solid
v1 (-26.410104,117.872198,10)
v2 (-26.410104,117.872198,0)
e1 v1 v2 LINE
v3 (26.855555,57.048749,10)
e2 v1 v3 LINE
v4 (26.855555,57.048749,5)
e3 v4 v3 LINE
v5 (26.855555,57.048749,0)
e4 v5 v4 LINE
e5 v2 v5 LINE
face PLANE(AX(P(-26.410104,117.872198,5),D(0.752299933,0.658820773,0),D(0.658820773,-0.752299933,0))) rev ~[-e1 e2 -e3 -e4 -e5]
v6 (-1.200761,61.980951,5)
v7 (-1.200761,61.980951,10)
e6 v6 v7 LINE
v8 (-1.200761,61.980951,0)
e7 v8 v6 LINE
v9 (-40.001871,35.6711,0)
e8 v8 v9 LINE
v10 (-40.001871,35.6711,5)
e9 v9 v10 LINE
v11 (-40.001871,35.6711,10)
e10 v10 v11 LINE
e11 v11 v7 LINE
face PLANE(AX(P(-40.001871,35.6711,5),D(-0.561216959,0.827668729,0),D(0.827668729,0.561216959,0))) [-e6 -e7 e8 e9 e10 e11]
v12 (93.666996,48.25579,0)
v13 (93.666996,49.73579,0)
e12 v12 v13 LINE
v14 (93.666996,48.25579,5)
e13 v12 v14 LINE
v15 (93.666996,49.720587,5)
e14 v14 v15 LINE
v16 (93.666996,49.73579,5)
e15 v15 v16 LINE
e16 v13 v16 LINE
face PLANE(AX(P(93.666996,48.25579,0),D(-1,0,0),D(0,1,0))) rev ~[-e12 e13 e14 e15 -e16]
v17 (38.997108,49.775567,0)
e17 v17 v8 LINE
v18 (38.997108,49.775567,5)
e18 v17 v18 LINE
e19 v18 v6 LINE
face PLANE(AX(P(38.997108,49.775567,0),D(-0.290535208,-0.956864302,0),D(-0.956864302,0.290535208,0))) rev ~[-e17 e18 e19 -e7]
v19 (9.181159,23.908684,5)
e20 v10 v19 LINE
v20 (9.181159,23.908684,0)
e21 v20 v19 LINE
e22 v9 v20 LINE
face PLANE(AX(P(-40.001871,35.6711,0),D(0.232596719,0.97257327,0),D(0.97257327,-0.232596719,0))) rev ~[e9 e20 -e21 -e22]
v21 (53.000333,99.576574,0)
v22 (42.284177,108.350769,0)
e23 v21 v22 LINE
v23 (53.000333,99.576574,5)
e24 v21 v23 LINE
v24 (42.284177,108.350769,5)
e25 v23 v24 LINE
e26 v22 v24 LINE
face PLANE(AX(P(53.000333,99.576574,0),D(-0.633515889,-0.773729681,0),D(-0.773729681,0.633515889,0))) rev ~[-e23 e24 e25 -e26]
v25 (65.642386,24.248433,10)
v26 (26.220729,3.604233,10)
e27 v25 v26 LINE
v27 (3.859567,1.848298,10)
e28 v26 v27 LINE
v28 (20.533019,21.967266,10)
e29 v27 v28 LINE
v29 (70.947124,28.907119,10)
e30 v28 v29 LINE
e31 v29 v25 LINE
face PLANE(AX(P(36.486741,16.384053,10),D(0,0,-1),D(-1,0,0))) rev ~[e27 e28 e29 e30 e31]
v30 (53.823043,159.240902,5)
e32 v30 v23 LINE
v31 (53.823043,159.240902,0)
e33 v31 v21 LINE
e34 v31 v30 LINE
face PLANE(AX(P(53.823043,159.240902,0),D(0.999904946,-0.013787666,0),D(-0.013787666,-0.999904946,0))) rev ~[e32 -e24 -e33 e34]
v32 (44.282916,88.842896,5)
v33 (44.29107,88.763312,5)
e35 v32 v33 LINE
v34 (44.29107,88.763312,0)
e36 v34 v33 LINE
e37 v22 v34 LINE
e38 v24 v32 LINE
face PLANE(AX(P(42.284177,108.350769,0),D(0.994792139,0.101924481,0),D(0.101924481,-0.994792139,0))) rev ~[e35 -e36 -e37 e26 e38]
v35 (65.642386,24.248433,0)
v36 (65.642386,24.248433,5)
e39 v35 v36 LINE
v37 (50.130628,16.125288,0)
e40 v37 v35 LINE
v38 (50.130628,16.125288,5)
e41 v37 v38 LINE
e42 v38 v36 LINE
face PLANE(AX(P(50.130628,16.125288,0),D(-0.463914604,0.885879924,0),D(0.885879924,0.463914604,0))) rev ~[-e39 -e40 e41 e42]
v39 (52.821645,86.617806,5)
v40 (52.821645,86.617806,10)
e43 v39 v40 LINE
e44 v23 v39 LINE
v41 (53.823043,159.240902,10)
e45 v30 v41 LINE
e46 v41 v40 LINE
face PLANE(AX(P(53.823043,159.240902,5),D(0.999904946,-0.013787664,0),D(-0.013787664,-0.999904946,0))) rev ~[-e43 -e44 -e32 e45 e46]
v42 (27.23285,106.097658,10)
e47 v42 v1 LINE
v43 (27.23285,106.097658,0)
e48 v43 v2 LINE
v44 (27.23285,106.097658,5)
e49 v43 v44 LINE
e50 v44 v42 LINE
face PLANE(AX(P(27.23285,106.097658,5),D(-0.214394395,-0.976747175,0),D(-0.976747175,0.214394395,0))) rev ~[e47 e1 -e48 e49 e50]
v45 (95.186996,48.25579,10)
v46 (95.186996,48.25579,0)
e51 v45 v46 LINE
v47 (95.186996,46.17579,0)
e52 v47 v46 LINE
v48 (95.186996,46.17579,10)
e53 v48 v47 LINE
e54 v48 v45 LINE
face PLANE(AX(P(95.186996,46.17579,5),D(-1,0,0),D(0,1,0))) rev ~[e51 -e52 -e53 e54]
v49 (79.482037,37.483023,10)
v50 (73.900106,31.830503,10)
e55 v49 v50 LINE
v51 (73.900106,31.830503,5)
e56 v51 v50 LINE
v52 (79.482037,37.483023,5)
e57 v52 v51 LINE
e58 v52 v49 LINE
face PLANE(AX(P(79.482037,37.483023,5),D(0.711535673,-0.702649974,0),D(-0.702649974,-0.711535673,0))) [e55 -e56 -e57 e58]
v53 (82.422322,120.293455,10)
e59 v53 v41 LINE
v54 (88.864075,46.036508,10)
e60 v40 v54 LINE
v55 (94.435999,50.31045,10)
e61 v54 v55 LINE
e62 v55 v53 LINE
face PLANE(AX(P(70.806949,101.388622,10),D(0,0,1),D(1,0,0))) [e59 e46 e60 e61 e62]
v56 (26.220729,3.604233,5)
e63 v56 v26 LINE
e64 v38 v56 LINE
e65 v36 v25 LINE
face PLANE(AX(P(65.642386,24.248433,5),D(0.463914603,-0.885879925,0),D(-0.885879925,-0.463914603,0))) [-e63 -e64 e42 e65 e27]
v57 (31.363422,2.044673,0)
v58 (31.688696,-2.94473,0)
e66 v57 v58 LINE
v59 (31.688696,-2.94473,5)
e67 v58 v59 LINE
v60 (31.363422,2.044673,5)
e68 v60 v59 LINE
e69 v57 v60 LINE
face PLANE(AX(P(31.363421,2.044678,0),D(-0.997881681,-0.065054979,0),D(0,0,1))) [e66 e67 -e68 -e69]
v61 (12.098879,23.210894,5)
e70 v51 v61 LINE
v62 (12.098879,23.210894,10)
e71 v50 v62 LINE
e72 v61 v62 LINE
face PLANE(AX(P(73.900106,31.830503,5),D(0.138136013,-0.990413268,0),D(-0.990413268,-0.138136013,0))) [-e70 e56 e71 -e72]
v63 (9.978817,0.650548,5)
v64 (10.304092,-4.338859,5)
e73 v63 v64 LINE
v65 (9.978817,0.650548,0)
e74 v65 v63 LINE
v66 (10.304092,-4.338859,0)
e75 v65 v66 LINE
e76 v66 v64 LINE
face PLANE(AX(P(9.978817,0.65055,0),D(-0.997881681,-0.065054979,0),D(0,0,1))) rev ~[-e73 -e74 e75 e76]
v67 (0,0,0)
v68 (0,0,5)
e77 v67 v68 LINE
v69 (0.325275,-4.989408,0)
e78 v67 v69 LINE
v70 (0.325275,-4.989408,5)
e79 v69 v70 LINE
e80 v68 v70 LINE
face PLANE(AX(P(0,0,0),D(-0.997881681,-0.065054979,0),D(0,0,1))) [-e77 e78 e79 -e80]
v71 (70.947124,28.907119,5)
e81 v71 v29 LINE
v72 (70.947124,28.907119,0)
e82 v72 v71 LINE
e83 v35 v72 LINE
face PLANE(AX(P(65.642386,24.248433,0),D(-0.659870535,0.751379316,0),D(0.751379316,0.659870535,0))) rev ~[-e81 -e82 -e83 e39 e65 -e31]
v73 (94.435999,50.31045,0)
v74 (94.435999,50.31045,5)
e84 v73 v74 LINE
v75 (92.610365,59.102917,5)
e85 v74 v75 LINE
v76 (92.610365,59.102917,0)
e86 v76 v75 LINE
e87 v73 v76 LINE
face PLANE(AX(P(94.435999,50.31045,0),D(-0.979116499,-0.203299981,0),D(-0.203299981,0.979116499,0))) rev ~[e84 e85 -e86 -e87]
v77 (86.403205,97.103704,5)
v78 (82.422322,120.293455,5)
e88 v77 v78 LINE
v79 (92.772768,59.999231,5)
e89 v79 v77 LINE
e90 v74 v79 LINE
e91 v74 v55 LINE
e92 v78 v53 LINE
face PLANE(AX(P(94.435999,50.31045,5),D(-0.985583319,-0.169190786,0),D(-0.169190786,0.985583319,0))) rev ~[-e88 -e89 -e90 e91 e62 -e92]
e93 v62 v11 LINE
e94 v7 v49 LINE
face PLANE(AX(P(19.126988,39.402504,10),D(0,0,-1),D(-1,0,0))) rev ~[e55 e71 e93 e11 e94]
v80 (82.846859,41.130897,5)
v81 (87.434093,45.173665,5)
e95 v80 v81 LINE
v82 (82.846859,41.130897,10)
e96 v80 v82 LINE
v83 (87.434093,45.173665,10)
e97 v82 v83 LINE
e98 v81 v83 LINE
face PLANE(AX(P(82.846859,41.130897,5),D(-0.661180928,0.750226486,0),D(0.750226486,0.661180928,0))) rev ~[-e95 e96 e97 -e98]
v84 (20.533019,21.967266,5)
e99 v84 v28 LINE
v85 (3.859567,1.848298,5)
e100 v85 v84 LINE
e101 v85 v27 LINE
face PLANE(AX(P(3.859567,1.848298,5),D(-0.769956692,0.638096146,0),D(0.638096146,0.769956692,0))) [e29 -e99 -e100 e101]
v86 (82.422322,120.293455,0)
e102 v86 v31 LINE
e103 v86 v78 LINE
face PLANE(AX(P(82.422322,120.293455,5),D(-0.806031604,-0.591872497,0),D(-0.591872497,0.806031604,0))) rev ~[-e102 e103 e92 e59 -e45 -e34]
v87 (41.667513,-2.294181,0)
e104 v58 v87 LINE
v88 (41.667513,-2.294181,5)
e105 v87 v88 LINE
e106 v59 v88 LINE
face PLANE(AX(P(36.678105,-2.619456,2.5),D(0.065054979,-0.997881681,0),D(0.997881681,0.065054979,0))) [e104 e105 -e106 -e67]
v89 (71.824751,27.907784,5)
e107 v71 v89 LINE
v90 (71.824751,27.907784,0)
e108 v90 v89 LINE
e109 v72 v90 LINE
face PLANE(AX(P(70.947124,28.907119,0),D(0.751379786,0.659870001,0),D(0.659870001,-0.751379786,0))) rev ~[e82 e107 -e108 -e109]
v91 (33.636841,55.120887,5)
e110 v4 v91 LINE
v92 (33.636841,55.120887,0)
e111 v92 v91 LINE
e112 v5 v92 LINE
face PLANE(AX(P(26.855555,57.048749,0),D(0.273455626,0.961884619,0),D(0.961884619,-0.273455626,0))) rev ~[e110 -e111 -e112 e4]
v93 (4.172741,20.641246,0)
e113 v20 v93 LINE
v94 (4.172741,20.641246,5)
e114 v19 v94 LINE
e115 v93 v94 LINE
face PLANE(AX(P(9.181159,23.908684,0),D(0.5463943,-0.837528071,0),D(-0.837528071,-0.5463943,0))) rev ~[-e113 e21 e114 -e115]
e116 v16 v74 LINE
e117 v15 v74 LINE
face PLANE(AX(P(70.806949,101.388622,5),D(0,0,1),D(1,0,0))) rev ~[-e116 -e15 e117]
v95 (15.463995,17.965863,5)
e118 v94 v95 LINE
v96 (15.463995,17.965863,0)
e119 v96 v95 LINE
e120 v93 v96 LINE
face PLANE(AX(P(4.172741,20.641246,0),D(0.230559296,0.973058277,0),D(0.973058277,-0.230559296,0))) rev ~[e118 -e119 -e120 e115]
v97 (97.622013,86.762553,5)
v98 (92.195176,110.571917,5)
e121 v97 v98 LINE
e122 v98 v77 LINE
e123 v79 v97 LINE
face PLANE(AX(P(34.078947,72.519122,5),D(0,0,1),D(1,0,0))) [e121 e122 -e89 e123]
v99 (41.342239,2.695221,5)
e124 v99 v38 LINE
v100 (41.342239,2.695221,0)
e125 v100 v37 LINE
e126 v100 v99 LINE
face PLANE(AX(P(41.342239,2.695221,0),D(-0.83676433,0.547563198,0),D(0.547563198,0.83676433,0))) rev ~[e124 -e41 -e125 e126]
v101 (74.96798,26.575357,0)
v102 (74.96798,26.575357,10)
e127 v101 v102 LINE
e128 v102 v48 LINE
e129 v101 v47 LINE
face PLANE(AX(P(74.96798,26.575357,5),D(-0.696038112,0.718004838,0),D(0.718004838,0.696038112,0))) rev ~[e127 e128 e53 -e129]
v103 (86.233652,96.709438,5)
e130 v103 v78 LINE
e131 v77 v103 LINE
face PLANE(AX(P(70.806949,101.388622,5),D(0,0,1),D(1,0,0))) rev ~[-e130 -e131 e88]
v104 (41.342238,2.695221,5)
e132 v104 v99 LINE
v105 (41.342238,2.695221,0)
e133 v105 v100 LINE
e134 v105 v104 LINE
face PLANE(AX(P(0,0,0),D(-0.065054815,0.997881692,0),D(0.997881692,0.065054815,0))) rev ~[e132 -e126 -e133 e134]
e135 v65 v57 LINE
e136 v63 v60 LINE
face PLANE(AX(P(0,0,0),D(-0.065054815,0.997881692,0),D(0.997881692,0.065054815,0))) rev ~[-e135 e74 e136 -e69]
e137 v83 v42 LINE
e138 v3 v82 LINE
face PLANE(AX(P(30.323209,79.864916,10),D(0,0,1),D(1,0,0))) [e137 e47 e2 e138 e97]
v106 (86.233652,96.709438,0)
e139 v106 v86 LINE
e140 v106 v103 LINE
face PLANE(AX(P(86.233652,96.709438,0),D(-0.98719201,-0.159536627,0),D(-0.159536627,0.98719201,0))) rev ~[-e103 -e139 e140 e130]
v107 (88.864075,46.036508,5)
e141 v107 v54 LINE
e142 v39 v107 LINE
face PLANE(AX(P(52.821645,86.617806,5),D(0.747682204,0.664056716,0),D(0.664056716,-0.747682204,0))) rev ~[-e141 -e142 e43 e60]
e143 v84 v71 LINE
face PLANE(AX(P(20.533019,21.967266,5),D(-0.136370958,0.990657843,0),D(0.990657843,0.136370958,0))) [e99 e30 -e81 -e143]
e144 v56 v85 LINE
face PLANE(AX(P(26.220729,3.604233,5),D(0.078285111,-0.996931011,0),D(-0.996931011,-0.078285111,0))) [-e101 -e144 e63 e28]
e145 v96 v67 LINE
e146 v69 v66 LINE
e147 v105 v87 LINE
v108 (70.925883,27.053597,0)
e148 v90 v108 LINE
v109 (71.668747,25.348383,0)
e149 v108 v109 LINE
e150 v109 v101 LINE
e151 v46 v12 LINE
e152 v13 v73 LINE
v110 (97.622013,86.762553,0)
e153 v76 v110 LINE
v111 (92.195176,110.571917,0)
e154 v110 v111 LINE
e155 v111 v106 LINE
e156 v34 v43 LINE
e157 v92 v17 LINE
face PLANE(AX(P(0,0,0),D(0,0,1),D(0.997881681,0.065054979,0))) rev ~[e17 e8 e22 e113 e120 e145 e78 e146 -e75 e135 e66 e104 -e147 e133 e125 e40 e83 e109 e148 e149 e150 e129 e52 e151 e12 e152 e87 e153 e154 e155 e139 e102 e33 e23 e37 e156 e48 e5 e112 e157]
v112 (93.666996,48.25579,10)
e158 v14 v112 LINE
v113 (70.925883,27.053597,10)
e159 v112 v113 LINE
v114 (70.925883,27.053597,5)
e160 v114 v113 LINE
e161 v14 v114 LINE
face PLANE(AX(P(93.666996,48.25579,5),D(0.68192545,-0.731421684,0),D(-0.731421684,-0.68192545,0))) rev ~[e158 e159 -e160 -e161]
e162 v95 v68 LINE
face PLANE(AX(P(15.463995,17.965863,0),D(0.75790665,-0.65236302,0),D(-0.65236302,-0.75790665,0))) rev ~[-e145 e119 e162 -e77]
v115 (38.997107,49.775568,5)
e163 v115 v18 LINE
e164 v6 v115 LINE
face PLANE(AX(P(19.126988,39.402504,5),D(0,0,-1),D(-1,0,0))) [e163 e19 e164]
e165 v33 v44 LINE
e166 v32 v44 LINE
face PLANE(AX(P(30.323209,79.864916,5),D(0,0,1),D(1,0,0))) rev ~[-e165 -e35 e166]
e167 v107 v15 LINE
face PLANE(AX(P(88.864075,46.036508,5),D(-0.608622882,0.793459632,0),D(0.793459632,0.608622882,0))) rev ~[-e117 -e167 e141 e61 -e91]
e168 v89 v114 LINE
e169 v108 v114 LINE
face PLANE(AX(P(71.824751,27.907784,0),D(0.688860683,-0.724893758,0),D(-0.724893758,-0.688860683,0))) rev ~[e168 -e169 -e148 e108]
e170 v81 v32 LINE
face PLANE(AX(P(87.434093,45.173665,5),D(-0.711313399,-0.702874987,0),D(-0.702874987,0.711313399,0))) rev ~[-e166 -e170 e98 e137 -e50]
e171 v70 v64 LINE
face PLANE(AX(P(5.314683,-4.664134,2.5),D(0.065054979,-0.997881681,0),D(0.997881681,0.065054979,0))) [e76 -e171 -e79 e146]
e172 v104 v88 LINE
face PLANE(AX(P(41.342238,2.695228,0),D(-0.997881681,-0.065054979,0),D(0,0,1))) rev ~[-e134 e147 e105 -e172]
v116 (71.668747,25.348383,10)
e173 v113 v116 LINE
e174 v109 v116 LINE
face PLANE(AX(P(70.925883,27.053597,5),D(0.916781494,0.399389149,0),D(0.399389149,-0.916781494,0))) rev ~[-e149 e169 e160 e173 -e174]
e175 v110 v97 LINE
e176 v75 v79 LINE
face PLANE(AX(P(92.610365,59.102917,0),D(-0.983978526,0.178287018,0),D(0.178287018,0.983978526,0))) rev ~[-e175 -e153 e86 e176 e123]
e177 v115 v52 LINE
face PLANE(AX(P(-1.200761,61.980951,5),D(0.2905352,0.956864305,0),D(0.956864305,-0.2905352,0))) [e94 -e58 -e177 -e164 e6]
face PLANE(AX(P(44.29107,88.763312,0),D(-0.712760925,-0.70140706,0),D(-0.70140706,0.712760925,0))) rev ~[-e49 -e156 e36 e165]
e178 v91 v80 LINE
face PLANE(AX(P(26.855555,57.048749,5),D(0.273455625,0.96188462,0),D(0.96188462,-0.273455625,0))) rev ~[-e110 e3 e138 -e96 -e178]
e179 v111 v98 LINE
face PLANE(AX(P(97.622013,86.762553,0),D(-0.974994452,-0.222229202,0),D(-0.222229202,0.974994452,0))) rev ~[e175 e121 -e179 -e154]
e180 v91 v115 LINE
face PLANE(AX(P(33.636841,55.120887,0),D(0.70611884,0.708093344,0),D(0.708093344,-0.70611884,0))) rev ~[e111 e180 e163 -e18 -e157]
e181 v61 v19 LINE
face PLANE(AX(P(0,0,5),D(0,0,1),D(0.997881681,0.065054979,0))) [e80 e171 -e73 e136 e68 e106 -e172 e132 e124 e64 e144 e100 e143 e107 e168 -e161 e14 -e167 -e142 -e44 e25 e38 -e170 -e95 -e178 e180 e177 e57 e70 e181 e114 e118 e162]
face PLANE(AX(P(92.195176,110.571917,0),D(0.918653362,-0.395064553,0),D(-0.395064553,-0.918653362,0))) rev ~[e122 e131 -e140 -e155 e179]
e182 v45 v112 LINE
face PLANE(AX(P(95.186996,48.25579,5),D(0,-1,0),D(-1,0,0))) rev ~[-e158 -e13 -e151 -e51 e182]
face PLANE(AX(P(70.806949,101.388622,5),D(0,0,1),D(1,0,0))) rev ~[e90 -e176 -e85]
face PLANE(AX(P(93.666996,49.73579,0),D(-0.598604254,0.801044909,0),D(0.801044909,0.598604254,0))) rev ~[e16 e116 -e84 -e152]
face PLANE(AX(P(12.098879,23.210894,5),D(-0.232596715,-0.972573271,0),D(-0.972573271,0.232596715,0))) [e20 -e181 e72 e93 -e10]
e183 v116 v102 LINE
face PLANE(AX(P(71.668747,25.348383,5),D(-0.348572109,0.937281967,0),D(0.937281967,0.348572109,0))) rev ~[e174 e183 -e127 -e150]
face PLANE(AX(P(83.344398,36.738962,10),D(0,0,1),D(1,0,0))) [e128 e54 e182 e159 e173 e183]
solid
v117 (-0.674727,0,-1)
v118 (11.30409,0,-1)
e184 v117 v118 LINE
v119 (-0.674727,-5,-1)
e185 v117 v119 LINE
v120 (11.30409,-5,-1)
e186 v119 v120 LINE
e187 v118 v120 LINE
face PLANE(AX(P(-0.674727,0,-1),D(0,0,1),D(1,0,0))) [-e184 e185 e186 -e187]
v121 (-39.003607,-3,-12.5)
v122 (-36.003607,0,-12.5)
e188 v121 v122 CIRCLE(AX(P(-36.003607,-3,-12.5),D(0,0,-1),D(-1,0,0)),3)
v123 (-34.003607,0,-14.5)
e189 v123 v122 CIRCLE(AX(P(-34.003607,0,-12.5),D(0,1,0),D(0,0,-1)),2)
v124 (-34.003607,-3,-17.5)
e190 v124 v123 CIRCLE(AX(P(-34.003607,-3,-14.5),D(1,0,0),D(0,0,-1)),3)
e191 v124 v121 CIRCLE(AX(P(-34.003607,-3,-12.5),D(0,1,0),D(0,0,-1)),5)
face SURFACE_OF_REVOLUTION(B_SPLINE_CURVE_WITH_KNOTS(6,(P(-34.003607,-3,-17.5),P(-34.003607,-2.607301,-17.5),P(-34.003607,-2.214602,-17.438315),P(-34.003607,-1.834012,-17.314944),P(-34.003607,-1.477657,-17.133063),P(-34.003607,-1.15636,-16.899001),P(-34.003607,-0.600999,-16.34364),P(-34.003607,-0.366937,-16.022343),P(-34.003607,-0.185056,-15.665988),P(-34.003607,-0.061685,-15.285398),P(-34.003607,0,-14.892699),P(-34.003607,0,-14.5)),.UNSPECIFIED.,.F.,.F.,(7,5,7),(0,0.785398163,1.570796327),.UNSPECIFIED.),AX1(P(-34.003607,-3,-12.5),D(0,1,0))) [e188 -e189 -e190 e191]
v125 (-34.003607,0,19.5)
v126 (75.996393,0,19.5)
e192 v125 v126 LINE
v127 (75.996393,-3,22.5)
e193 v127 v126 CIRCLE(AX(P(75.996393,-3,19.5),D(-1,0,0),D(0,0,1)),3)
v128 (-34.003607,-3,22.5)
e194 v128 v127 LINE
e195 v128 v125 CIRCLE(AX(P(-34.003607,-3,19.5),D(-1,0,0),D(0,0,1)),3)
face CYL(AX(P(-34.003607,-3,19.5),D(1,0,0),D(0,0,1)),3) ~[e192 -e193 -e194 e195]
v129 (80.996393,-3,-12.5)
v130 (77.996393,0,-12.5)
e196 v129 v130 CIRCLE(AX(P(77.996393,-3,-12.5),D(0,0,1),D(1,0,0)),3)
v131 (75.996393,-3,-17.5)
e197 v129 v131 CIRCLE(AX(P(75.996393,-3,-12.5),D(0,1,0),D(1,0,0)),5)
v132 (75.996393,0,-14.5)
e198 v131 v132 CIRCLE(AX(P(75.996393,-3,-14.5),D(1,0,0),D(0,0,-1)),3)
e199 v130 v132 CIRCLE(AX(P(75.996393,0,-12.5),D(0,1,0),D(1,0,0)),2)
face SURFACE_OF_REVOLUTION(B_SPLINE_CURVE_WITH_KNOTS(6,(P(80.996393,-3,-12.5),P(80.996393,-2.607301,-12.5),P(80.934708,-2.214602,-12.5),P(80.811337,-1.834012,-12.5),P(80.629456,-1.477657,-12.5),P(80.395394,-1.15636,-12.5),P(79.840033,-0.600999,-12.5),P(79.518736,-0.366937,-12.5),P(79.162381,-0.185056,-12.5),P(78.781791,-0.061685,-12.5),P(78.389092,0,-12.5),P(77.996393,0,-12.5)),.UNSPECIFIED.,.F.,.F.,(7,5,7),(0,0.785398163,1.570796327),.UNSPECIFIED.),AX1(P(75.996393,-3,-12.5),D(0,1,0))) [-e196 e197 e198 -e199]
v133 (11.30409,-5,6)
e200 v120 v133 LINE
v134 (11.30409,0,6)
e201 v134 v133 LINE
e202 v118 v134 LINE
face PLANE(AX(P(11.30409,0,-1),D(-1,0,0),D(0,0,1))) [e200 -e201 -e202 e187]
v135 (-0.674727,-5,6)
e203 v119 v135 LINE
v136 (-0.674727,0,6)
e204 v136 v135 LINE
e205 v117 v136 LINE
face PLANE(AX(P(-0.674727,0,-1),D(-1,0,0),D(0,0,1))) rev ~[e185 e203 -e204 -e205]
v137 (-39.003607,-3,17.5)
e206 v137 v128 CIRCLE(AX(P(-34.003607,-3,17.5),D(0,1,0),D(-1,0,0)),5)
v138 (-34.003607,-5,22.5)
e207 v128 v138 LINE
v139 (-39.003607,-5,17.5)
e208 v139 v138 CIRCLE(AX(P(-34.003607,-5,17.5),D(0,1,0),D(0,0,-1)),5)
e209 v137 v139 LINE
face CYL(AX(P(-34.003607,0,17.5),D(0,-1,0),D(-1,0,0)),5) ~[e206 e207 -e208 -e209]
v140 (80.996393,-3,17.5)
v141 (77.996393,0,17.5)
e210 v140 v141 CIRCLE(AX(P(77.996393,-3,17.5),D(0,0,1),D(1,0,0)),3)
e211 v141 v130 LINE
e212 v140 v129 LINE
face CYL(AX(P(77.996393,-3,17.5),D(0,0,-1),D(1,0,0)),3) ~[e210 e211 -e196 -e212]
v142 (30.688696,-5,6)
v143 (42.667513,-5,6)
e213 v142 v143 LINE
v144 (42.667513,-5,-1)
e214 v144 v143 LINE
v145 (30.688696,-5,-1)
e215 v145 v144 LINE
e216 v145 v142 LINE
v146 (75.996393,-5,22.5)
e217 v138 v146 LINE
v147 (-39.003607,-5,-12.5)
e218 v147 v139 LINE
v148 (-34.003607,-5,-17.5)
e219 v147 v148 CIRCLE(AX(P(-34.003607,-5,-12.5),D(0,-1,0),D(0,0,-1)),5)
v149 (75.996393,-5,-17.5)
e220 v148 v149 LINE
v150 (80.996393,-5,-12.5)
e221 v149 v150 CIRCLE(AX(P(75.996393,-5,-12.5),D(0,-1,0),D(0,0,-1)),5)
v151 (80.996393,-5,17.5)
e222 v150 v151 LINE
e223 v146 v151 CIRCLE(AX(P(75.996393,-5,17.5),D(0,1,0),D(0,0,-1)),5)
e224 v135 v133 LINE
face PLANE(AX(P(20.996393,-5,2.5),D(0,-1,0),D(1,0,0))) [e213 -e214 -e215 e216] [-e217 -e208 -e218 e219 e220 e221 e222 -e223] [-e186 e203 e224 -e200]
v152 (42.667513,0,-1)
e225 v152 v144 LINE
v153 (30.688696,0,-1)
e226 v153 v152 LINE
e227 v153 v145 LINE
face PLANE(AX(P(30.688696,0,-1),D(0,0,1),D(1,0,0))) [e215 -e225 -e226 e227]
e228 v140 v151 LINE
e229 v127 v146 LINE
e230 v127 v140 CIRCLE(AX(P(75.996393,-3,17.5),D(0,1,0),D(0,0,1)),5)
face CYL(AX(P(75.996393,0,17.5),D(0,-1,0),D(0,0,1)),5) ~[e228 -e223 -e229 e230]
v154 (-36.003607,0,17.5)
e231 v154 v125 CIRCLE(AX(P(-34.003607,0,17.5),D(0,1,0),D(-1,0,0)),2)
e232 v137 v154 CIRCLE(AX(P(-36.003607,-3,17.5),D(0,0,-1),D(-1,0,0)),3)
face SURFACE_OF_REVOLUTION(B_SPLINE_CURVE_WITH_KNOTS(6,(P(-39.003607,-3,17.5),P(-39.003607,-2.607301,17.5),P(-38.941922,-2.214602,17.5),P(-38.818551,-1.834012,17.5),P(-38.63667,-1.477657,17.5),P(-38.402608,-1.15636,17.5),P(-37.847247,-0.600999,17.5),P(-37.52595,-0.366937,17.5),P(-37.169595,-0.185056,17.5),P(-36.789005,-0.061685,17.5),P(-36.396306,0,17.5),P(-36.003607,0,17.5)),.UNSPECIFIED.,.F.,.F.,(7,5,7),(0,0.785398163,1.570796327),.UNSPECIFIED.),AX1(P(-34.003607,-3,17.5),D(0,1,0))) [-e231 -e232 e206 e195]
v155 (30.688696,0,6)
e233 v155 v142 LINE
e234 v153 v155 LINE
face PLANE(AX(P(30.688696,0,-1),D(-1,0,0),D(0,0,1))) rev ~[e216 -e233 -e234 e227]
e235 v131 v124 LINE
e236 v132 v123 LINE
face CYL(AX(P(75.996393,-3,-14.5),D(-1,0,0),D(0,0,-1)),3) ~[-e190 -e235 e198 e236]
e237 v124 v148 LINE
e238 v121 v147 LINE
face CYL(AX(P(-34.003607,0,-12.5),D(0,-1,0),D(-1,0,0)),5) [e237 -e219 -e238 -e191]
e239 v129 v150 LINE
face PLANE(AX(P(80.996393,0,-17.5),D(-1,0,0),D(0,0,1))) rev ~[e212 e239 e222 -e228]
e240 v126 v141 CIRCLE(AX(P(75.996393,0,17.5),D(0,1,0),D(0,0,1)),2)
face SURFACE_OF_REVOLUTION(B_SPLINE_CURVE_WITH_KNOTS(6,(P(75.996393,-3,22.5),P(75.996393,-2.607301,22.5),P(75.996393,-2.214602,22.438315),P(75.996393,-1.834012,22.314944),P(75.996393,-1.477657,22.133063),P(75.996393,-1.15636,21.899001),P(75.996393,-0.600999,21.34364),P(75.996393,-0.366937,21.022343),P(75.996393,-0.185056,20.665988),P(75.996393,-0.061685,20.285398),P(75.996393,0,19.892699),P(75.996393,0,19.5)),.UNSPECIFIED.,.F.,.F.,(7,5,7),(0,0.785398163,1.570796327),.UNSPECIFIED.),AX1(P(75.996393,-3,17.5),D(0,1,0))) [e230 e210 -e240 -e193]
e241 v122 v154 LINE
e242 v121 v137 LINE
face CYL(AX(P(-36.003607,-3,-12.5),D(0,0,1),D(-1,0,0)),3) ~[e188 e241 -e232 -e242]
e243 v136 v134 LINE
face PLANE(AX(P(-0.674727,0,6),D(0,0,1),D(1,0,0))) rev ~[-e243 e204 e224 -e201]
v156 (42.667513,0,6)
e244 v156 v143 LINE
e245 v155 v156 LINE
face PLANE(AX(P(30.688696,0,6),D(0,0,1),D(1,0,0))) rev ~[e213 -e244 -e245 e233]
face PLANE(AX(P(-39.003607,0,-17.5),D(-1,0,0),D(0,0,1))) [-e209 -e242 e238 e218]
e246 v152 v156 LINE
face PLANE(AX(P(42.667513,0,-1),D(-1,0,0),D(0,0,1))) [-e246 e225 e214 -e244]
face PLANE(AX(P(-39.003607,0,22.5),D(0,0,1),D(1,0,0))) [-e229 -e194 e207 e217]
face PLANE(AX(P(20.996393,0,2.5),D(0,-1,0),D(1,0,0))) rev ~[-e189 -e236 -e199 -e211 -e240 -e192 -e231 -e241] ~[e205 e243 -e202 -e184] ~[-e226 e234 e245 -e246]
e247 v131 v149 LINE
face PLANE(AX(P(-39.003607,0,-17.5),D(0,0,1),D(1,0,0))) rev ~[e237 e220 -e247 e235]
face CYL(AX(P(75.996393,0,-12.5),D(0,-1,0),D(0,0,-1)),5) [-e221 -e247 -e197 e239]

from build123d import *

# Parameters (mm, degrees)
PAD_DEPTH     = 5
PAD001_DEPTH  = 5
SKETCH002_W   = 10
SKETCH002_H   = 5
PAD002_DEPTH  = 5
SKETCH003_W   = 120
SKETCH003_H   = 40
SKETCH003_W_2 = 11.978817
SKETCH003_H_2 = 7
PAD003_DEPTH  = 5
FILLET_R      = 5
FILLET001_R   = 3


with BuildPart() as crimson1:
    # Sketch → Pad (new body)
    with BuildSketch(Plane.XY):
        Polygon((0, 0), (41.342239, 2.695221), (50.130628, 16.125288), (65.642386, 24.248433), (70.947124, 28.907119), (71.824751, 27.907784), (70.925883, 27.053597), (71.668747, 25.348383), (74.96798, 26.575357), (95.186996, 46.17579), (95.186996, 48.25579), (93.666996, 48.25579), (93.666996, 49.73579), (94.435999, 50.31045), (92.610365, 59.102917), (97.622013, 86.762553), (92.195176, 110.571917), (86.233652, 96.709438), (82.422322, 120.293455), (53.823043, 159.240902), (53.000333, 99.576574), (42.284177, 108.350769), (44.29107, 88.763312), (27.23285, 106.097658), (-26.410104, 117.872198), (26.855555, 57.048749), (33.636841, 55.120887), (38.997108, 49.775567), (-1.200761, 61.980951), (-40.001871, 35.6711), (9.181159, 23.908684), (4.172741, 20.641246), (15.463995, 17.965863), align=None)
    extrude(amount=PAD_DEPTH)

    # Sketch001 (on Face35 of Pad) → Pad001 (join)
    with BuildSketch(Plane.XY.offset(5)):
        Polygon((93.666996, 48.25579), (70.925883, 27.053597), (71.668747, 25.348383), (74.96798, 26.575357), (95.186996, 46.17579), (95.186996, 48.25579), align=None)
        Polygon((65.642386, 24.248433), (26.220729, 3.604233), (3.859567, 1.848298), (20.533019, 21.967266), (70.947124, 28.907119), align=None)
        Polygon((-1.200761, 61.980951), (79.482037, 37.483023), (73.900106, 31.830503), (12.098879, 23.210894), (-40.001871, 35.6711), align=None)
        Polygon((87.434093, 45.173665), (27.23285, 106.097658), (-26.410104, 117.872198), (26.855555, 57.048749), (82.846859, 41.130897), align=None)
        Polygon((94.435999, 50.31045), (82.422322, 120.293455), (53.823043, 159.240902), (52.821645, 86.617806), (88.864075, 46.036508), align=None)
    extrude(amount=PAD001_DEPTH)

    # Sketch002 (on Face1 of Pad001) → Pad002 (join)
    with BuildSketch(Plane(origin=(0, 0, 0), x_dir=(0.997882, 0.065055, 0), z_dir=(0.065055, -0.997882, 0))):
        with Locations((5, 2.5)):
            Rectangle(SKETCH002_W, SKETCH002_H)
        with Locations((36.43, 2.5)):
            Rectangle(SKETCH002_W, SKETCH002_H)
    extrude(amount=PAD002_DEPTH)


with BuildPart() as stand:
    # Sketch003 → Pad003 (new body)
    with BuildSketch(Plane.XZ):
        with Locations((20.996393, 2.5)):
            Rectangle(SKETCH003_W, SKETCH003_H)
        with Locations((36.678105, 2.5)):
            Rectangle(SKETCH003_W_2, SKETCH003_H_2, mode=Mode.SUBTRACT)
        with Locations((5.314682, 2.5)):
            Rectangle(SKETCH003_W_2, SKETCH003_H_2, mode=Mode.SUBTRACT)
    extrude(amount=PAD003_DEPTH)

    # Fillet
    fillet_edges = [stand.edges().sort_by_distance(p)[0] for p in [
        (80.996393, -2.5, 22.5),
        (80.996393, -2.5, -17.5),
        (-39.003607, -2.5, -17.5),
        (-39.003607, -2.5, 22.5),
    ]]
    fillet(fillet_edges, radius=FILLET_R)

    # Fillet001
    fillet001_edges = [stand.edges().sort_by_distance(p)[0] for p in [
        (-39.003607, 0, 2.5),
        (-37.539141, 0, -16.035534),
        (20.996393, 0, -17.5),
        (20.996393, 0, 22.5),
        (-37.539141, 0, 21.035534),
        (79.531927, 0, 21.035534),
        (80.996393, 0, 2.5),
        (79.531927, 0, -16.035534),
    ]]
    fillet(fillet001_edges, radius=FILLET001_R)


solid = Compound([crimson1.part, stand.part])
